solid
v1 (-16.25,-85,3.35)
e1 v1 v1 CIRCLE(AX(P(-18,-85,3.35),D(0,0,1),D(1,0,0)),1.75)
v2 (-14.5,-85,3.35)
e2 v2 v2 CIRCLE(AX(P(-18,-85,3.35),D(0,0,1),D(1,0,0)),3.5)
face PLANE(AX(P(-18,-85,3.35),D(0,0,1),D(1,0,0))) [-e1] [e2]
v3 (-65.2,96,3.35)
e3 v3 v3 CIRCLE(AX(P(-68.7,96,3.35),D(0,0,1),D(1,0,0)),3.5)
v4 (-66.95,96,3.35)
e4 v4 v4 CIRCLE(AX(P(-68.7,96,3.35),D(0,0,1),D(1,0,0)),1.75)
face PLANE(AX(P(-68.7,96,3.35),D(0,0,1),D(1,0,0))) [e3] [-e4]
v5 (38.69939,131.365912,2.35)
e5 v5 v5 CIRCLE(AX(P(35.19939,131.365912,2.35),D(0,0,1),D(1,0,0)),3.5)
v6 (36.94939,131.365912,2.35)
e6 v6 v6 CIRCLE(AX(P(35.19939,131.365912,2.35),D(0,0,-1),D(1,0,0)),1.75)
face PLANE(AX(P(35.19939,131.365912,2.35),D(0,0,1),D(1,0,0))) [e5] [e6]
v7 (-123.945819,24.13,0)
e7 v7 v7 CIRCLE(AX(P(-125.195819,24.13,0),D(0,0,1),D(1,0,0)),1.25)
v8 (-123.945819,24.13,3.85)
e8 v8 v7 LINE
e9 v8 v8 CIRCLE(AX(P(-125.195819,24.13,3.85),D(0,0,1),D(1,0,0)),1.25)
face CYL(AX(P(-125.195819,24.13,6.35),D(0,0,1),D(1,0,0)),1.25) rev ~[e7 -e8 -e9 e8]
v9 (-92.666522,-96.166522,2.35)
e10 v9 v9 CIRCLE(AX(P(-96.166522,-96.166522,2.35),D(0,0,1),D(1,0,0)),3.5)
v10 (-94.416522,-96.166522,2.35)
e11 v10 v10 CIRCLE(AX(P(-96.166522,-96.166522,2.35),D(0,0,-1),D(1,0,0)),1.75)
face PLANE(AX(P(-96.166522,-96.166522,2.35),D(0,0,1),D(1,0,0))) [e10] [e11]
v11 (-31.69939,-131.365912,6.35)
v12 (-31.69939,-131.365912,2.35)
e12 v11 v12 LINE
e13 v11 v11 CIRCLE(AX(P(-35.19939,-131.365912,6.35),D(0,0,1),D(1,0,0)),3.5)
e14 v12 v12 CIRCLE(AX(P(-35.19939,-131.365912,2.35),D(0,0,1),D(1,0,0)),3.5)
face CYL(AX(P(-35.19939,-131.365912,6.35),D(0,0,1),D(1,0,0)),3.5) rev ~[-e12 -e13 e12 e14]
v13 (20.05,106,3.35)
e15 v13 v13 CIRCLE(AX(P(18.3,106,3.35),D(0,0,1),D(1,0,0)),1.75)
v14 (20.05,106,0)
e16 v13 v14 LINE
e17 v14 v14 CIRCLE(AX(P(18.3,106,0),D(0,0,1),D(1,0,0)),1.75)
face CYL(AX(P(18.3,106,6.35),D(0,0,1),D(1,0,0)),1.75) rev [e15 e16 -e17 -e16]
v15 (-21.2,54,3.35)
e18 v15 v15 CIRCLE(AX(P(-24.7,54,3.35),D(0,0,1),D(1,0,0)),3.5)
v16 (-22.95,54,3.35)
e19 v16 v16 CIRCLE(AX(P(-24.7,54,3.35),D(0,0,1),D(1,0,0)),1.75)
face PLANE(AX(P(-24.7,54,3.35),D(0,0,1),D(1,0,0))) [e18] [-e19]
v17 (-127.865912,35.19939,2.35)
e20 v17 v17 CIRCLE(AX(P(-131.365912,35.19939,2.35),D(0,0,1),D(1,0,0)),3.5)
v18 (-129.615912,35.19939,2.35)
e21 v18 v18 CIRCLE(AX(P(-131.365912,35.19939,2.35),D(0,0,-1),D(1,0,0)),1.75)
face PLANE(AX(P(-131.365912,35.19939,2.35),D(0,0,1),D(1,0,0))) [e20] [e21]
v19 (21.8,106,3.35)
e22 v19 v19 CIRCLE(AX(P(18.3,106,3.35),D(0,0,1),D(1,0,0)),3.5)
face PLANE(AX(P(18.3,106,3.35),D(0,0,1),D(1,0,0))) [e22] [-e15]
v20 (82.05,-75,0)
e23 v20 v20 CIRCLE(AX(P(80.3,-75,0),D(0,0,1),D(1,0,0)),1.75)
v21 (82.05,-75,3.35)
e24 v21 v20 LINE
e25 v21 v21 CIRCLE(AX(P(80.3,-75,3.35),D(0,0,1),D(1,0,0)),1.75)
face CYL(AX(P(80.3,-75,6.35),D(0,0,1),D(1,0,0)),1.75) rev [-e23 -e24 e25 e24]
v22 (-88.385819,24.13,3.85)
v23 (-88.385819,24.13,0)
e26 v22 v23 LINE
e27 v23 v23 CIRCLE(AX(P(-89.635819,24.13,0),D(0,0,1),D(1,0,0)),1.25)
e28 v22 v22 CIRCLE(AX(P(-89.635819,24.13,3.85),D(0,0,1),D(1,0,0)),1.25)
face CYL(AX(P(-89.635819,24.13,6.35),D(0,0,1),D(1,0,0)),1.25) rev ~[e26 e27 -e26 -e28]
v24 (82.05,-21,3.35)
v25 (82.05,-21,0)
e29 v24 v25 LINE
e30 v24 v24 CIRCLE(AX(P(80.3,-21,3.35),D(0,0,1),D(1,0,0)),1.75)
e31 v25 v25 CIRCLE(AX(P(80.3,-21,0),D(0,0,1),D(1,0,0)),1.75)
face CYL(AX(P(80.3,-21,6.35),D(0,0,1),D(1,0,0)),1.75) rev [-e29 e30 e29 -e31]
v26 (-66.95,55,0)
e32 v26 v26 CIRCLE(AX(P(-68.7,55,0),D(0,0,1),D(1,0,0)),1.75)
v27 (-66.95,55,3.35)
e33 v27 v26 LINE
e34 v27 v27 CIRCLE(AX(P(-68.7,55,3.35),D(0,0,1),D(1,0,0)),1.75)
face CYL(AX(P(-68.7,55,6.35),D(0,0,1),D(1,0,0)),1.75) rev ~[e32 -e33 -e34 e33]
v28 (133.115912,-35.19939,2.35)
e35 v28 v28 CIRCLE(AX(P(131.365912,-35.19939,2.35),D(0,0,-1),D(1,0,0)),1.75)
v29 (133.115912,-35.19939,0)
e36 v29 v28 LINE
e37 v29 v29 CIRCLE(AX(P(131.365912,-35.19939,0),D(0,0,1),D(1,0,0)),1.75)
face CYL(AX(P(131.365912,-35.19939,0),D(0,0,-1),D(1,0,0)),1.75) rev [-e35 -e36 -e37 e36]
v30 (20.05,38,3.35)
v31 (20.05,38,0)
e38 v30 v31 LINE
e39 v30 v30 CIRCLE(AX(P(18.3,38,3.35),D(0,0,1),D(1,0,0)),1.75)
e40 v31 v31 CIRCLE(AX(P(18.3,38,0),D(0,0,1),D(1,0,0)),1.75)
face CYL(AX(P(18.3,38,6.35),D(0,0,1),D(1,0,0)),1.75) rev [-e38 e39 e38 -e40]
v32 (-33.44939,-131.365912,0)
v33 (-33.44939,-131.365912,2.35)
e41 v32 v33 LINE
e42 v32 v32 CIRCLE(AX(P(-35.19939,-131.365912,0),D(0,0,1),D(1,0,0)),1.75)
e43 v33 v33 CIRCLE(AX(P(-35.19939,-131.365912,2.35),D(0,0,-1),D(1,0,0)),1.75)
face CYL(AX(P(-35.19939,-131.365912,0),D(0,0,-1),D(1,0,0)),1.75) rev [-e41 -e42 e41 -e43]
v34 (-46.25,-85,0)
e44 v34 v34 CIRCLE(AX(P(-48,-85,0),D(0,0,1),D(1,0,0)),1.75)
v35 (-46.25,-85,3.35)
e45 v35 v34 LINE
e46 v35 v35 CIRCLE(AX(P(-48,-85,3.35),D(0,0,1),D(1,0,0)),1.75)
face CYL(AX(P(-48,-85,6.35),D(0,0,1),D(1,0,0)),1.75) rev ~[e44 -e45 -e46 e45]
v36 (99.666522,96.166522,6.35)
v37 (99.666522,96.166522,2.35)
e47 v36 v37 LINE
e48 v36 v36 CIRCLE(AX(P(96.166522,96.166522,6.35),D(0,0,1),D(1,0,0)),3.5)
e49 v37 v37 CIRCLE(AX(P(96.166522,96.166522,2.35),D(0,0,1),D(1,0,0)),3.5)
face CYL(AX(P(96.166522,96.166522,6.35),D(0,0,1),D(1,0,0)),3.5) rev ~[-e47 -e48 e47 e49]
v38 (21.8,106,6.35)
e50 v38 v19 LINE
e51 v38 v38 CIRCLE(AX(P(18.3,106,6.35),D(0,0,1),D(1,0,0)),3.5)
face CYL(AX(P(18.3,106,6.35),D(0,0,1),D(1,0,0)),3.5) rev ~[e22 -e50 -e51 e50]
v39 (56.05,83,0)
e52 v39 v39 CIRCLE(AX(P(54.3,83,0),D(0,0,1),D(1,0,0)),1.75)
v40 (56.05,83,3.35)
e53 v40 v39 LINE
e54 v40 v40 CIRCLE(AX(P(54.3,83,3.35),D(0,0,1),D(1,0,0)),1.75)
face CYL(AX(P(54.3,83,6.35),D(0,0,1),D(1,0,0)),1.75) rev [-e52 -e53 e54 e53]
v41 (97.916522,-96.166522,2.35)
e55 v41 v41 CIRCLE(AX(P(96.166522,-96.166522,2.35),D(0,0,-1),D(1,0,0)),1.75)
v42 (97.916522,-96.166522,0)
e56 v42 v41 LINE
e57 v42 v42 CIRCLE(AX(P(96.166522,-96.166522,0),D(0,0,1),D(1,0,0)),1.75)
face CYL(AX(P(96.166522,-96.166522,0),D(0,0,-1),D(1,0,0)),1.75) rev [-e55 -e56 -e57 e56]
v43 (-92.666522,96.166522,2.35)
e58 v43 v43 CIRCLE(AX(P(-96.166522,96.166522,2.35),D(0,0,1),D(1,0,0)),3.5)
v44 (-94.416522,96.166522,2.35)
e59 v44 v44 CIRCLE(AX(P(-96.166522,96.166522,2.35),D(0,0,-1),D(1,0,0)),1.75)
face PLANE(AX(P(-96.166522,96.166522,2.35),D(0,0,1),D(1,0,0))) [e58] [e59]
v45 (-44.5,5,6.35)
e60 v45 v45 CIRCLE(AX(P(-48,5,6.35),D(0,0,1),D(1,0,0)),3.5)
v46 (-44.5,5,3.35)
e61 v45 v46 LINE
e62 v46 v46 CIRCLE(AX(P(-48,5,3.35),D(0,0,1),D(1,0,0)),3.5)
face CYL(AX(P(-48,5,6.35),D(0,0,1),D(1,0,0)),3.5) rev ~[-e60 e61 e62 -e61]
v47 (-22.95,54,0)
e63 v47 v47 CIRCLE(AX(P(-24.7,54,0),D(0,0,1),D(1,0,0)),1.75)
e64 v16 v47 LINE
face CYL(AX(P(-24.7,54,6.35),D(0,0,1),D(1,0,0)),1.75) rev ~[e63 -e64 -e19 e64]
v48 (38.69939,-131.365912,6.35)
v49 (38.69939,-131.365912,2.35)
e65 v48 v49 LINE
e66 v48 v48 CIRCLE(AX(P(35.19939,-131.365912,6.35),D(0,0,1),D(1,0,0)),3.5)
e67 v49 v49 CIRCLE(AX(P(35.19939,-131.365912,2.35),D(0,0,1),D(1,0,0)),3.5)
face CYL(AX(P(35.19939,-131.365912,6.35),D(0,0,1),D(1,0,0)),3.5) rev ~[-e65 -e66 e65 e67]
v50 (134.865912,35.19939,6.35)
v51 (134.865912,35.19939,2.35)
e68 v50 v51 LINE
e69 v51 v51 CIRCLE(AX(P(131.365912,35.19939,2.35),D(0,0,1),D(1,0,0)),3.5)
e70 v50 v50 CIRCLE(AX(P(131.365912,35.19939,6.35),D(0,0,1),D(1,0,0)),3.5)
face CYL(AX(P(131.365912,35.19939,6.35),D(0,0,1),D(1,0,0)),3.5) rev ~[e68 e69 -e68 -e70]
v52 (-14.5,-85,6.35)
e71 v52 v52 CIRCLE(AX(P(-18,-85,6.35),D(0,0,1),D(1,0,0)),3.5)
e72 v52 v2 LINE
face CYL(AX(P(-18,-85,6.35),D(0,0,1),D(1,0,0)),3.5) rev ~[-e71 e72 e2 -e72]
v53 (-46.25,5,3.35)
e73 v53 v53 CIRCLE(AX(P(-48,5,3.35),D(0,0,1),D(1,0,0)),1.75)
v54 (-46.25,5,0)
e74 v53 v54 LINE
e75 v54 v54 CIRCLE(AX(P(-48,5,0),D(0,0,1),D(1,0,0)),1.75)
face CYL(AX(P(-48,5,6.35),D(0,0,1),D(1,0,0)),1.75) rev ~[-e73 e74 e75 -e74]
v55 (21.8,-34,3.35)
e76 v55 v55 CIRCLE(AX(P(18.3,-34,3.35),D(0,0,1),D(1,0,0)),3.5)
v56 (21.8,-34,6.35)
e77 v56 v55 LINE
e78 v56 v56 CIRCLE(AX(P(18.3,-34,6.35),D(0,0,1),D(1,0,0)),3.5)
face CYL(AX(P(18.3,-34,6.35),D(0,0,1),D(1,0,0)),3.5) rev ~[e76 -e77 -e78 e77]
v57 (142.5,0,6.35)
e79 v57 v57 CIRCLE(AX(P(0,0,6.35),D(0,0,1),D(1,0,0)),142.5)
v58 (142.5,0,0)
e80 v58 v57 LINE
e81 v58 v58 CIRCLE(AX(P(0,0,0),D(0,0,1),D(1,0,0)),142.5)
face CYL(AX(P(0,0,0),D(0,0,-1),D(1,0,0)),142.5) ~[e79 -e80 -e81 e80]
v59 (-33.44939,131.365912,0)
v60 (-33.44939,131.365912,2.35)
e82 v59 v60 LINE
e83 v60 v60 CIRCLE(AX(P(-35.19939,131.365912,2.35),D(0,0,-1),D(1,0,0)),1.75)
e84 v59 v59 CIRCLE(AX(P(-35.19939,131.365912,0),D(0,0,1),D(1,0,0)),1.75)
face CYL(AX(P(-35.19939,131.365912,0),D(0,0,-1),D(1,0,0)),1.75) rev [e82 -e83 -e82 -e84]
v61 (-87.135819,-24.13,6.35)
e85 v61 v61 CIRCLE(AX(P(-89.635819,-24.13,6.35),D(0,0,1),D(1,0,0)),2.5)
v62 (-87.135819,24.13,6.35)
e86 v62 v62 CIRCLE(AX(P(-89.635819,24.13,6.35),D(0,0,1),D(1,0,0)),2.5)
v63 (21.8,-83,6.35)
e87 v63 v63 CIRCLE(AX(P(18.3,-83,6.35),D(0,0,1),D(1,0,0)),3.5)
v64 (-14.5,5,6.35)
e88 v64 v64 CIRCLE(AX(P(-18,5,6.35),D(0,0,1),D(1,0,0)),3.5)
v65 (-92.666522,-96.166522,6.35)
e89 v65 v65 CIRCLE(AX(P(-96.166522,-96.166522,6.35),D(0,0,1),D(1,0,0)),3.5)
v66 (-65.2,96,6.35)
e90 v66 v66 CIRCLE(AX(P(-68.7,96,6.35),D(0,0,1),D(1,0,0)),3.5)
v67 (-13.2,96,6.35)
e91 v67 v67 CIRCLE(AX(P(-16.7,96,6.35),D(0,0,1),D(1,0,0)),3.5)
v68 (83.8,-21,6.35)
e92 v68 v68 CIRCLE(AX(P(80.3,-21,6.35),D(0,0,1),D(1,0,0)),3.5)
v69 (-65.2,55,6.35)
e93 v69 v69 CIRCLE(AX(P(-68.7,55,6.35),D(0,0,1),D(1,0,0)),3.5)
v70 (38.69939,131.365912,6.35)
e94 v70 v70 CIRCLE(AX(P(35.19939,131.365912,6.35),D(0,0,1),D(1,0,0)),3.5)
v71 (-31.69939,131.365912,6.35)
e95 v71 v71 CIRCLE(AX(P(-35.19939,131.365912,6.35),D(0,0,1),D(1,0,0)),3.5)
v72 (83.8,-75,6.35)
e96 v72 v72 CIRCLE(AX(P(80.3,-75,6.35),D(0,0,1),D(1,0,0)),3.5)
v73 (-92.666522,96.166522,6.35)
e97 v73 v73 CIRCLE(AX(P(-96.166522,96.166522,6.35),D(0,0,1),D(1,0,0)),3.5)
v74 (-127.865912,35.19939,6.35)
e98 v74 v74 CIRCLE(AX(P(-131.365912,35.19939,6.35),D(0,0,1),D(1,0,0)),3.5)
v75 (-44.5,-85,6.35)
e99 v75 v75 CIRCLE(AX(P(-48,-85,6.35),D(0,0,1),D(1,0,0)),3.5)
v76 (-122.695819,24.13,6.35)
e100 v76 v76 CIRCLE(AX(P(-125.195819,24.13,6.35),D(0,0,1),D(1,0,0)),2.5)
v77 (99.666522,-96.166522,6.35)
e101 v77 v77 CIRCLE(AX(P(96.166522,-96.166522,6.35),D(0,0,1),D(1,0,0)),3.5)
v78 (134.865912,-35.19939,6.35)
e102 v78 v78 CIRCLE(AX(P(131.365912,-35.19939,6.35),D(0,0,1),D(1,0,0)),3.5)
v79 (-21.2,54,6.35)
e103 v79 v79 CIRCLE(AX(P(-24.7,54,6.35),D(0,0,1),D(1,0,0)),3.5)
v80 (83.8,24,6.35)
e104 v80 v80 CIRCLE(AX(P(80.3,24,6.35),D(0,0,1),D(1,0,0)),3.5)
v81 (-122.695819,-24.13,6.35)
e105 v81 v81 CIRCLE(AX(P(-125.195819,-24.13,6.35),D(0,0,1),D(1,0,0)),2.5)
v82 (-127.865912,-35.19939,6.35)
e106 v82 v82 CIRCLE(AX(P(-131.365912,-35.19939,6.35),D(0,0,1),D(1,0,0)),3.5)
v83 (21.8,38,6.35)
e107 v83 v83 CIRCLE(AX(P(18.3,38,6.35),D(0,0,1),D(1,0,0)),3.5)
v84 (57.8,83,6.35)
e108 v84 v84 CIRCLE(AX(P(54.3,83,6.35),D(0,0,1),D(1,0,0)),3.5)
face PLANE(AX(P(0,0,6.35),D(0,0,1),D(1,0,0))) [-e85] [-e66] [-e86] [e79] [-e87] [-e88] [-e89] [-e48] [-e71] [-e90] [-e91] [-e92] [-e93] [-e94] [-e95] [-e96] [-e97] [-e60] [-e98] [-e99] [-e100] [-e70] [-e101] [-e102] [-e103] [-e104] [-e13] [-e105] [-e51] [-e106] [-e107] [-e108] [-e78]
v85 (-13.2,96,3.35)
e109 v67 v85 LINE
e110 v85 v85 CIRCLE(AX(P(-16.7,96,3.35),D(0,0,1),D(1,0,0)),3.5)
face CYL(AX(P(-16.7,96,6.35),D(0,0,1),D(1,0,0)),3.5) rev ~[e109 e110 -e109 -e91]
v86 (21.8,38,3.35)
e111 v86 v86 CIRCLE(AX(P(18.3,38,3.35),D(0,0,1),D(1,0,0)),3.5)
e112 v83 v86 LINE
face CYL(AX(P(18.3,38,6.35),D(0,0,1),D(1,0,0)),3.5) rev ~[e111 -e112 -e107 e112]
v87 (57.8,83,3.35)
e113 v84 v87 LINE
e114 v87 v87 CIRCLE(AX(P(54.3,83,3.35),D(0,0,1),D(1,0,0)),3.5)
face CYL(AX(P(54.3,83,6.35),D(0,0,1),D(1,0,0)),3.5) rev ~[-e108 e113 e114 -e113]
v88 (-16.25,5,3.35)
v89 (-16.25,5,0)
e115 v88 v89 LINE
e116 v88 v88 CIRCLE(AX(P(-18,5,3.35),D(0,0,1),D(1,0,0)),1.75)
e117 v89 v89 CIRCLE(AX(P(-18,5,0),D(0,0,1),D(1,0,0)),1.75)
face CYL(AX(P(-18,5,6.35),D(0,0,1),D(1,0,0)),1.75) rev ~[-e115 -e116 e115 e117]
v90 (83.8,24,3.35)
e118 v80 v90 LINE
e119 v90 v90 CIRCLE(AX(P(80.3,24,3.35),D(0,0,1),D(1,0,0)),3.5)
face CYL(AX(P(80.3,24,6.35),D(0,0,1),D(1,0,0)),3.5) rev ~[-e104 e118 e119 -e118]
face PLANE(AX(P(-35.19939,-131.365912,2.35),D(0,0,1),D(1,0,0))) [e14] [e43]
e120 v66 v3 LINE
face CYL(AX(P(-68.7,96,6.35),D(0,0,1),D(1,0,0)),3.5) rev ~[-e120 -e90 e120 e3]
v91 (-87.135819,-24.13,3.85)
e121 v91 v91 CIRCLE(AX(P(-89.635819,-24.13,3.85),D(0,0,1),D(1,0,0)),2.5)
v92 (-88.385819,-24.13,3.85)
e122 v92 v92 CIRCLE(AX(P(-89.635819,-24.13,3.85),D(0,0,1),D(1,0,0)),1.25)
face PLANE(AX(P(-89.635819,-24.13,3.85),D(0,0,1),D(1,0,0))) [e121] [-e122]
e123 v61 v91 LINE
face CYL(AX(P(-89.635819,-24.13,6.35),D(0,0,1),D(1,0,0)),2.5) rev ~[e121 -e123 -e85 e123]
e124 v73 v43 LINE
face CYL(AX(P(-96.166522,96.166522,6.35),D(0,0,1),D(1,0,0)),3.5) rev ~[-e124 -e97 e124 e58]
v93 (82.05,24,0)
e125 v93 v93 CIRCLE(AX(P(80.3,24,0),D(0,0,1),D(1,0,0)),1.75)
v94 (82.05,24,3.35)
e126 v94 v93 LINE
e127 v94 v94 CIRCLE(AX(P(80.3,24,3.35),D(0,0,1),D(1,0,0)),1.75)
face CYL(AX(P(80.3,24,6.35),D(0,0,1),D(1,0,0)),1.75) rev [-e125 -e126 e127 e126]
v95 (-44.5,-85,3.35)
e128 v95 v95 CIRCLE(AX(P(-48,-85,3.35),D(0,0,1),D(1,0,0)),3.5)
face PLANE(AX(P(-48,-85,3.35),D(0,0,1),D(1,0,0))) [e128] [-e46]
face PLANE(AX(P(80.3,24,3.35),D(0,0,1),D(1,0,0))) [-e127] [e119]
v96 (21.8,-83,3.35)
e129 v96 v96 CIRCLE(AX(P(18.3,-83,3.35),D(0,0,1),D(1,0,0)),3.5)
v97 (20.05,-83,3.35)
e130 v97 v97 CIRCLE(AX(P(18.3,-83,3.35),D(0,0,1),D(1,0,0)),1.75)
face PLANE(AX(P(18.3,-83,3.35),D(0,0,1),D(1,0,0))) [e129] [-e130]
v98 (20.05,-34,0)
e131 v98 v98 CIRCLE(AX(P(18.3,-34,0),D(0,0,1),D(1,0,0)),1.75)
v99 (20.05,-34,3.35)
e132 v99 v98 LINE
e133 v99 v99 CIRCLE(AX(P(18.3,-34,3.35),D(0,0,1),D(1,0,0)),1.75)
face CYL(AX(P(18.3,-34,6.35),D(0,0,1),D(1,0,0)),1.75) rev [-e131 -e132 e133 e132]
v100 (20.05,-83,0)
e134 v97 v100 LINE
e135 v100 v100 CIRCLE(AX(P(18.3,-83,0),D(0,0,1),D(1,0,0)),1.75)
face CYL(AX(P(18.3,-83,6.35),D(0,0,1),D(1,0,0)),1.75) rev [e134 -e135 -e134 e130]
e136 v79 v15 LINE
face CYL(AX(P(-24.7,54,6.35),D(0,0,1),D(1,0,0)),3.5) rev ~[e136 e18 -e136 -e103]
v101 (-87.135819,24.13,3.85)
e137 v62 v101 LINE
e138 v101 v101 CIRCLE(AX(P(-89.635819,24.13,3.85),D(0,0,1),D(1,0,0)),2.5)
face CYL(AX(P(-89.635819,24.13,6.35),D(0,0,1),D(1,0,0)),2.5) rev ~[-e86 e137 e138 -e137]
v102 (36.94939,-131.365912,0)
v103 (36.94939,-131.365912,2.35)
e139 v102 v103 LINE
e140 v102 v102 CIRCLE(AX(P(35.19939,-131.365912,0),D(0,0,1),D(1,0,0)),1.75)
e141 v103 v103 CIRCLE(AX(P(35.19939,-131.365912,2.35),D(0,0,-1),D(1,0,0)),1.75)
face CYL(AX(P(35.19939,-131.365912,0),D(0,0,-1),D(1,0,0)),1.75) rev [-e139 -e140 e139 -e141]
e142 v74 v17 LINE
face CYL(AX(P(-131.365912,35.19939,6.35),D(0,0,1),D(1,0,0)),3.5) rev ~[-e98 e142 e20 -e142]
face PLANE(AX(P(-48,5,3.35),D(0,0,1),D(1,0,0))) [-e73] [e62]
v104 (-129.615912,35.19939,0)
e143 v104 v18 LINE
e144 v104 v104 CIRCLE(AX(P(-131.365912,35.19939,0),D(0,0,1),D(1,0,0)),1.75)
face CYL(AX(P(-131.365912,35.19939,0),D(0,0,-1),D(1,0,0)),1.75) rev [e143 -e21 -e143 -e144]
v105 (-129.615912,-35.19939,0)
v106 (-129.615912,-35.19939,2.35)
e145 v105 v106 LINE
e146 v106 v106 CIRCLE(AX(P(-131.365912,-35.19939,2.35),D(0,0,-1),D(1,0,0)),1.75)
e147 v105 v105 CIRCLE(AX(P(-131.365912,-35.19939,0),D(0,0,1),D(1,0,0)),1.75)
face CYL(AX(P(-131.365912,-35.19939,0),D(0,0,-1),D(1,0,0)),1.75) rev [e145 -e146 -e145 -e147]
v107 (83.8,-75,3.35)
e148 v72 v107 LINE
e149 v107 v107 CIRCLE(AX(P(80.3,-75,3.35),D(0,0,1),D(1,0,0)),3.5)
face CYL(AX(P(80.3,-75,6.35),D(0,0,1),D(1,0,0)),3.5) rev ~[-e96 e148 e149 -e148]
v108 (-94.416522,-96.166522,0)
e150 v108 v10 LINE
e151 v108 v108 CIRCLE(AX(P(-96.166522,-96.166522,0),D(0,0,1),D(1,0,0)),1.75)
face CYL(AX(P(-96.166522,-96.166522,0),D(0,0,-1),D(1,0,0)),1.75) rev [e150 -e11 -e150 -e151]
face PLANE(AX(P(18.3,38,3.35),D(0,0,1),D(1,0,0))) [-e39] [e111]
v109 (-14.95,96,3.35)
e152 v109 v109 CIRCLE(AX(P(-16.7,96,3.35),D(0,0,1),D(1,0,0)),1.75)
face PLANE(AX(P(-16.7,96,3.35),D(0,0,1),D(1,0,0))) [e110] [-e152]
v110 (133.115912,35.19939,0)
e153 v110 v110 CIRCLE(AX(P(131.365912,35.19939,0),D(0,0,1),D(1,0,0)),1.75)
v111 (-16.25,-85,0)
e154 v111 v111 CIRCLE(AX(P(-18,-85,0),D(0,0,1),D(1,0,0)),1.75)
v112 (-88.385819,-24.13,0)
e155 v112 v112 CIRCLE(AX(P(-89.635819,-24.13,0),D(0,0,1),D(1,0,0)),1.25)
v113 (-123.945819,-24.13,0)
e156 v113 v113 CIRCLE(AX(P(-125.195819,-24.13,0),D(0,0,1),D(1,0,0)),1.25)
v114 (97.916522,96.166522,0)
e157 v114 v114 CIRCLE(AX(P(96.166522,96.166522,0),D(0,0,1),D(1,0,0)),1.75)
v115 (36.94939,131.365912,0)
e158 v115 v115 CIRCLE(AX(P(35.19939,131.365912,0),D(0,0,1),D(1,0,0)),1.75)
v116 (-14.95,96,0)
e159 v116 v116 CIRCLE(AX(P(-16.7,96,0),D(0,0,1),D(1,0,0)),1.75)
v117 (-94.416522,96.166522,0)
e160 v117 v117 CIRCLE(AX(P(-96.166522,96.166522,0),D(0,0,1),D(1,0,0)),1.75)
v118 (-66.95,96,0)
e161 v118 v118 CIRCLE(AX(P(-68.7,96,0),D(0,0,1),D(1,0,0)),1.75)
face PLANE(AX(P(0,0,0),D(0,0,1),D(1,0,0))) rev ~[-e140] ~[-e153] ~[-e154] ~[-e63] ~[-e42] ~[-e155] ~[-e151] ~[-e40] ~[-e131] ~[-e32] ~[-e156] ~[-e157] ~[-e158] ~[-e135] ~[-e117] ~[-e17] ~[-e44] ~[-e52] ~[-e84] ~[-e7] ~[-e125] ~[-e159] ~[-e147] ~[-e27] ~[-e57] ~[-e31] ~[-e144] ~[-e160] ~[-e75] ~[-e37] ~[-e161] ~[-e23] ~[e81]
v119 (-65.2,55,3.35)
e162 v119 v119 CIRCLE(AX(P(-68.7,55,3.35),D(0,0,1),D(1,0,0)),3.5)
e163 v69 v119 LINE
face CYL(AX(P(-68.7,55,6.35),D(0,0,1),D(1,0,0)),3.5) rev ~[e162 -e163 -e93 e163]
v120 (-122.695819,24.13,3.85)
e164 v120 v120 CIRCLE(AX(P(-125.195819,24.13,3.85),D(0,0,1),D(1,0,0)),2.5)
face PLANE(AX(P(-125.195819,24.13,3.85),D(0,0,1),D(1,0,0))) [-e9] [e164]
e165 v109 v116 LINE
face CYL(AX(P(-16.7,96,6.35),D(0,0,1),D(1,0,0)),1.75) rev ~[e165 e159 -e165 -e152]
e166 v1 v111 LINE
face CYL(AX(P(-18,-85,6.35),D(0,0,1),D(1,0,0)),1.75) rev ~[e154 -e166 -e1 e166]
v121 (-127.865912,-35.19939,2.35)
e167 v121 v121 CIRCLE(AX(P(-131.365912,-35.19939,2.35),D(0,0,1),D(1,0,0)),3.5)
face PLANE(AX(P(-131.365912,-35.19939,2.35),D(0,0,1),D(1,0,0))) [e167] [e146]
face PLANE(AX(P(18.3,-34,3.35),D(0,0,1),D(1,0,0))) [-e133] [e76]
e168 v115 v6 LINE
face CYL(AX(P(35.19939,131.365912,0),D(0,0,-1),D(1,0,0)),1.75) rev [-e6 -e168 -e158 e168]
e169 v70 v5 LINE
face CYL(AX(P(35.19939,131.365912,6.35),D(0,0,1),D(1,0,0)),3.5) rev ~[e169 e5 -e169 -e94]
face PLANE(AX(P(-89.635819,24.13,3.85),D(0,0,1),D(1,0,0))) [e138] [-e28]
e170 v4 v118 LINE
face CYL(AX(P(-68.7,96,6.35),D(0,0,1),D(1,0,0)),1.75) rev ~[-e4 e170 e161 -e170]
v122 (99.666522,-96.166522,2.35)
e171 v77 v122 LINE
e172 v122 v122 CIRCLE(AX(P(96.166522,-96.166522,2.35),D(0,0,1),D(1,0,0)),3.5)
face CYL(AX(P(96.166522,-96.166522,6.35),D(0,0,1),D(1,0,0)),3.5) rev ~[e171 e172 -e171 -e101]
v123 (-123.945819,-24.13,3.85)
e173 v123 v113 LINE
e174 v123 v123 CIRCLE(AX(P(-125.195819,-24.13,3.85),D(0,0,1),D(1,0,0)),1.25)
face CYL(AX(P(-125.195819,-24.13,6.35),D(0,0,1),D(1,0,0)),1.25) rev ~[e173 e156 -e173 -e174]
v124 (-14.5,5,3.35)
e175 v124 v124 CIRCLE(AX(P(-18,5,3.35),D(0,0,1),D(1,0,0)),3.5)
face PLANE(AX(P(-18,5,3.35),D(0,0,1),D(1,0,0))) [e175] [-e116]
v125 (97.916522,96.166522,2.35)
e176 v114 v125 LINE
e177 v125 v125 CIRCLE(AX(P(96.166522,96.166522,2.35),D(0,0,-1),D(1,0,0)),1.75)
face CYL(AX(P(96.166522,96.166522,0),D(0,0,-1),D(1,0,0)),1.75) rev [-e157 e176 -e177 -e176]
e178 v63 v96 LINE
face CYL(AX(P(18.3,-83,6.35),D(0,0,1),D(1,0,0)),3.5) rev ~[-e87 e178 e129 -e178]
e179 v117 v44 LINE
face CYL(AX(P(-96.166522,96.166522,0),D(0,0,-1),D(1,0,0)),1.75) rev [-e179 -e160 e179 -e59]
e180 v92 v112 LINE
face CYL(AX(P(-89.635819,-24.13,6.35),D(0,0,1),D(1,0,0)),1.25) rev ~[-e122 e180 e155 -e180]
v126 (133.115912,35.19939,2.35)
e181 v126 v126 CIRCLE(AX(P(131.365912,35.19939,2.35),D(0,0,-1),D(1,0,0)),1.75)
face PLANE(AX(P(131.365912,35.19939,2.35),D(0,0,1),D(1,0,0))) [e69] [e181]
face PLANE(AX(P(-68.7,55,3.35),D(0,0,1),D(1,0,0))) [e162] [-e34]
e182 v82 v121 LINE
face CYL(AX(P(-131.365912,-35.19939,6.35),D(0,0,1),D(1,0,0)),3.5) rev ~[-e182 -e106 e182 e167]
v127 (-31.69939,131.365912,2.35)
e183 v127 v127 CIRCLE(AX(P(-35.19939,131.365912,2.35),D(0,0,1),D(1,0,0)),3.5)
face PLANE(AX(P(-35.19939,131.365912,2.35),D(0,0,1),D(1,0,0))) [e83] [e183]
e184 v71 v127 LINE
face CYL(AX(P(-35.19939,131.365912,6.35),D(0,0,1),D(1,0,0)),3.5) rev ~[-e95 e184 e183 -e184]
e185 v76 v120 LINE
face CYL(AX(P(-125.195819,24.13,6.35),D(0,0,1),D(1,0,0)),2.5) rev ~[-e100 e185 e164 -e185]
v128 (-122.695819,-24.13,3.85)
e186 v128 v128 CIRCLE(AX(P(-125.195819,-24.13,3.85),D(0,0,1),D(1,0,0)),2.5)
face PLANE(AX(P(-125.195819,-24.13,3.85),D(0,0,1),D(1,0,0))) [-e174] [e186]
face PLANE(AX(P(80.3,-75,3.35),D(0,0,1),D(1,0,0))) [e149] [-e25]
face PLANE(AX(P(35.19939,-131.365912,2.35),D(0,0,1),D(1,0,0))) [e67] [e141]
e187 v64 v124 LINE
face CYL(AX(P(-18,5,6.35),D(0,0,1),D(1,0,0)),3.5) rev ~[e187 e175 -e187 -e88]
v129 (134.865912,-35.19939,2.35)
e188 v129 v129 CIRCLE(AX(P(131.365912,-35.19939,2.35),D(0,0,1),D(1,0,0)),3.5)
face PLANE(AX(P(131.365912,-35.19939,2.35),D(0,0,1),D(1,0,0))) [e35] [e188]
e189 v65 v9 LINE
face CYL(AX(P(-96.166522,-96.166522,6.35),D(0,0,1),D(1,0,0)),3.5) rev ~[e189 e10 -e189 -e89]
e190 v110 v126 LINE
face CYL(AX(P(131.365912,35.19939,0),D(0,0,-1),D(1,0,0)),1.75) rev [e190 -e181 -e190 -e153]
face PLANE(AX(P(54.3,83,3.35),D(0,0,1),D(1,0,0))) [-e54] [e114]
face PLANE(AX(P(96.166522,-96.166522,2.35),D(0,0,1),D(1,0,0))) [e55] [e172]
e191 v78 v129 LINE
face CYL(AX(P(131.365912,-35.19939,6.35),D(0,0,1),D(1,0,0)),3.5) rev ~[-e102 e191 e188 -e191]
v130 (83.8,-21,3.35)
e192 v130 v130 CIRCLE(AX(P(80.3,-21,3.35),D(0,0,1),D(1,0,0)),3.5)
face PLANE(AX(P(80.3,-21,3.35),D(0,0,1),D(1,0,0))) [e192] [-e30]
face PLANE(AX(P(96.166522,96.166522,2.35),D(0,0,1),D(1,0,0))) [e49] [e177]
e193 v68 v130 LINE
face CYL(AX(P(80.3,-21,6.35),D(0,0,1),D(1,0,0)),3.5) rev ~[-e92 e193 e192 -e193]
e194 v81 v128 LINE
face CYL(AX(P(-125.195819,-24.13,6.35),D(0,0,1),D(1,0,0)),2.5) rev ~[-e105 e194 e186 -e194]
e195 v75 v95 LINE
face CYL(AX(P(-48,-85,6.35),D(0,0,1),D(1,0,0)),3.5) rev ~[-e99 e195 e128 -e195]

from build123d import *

# Parameters (mm, degrees)
ESQUISSE1_R              = 142.5
ESQUISSE1_R_2            = 1.75
BOSS_EXTRU_1_DEPTH       = 6.35
ESQUISSE2_R              = 3.5
ENL_V_MAT_EXTRU_1_DEPTH  = 4
ENL_V_MAT_EXTRU_2_REACH  = 203.625
ESQUISSE3_R              = 1.25
ESQUISSE4_R              = 2.5
ENL_V_MAT_EXTRU_3_DEPTH  = 2.5
ENL_V_MAT_EXTRU_4_REACH  = 203.625
ESQUISSE5_R              = 1.75
ESQUISSE6_R              = 3.5
ENL_V_MAT_EXTRU_5_DEPTH  = 3
ENL_V_MAT_EXTRU_6_REACH  = 203.625
ESQUISSE7_R              = 1.75
ESQUISSE8_R              = 3.5
ENL_V_MAT_EXTRU_7_DEPTH  = 3
ENL_V_MAT_EXTRU_8_REACH  = 203.625
ESQUISSE9_R              = 1.75
ESQUISSE10_R             = 3.5
ENL_V_MAT_EXTRU_9_DEPTH  = 3
ENL_V_MAT_EXTRU_10_REACH = 203.625
ESQUISSE11_R             = 1.75
ESQUISSE12_R             = 3.5
ENL_V_MAT_EXTRU_11_DEPTH = 3


with BuildPart() as part:
    # Esquisse1 → Boss.-Extru.1 (new body)
    with BuildSketch(Plane.XY):
        Circle(ESQUISSE1_R)
        with Locations((-35.199390134, 131.365912375)):
            Circle(ESQUISSE1_R_2, mode=Mode.SUBTRACT)
        with Locations((35.199390134, 131.365912375)):
            Circle(ESQUISSE1_R_2, mode=Mode.SUBTRACT)
        with Locations((96.166522241, 96.166522241)):
            Circle(ESQUISSE1_R_2, mode=Mode.SUBTRACT)
        with Locations((131.365912375, 35.199390134)):
            Circle(ESQUISSE1_R_2, mode=Mode.SUBTRACT)
        with Locations((131.365912375, -35.199390134)):
            Circle(ESQUISSE1_R_2, mode=Mode.SUBTRACT)
        with Locations((96.166522241, -96.166522241)):
            Circle(ESQUISSE1_R_2, mode=Mode.SUBTRACT)
        with Locations((35.199390134, -131.365912375)):
            Circle(ESQUISSE1_R_2, mode=Mode.SUBTRACT)
        with Locations((-35.199390134, -131.365912375)):
            Circle(ESQUISSE1_R_2, mode=Mode.SUBTRACT)
        with Locations((-96.166522241, -96.166522241)):
            Circle(ESQUISSE1_R_2, mode=Mode.SUBTRACT)
        with Locations((-131.365912375, -35.199390134)):
            Circle(ESQUISSE1_R_2, mode=Mode.SUBTRACT)
        with Locations((-131.365912375, 35.199390134)):
            Circle(ESQUISSE1_R_2, mode=Mode.SUBTRACT)
        with Locations((-96.166522241, 96.166522241)):
            Circle(ESQUISSE1_R_2, mode=Mode.SUBTRACT)
    extrude(amount=BOSS_EXTRU_1_DEPTH)

    # Esquisse2 → Enlèv. mat.-Extru.1 (cut)
    with BuildSketch(Plane.XY.offset(6.35)):
        with Locations((35.199390134, 131.365912375)):
            Circle(ESQUISSE2_R)
        with Locations((96.166522241, 96.166522241)):
            Circle(ESQUISSE2_R)
        with Locations((131.365912375, 35.199390134)):
            Circle(ESQUISSE2_R)
        with Locations((131.365912375, -35.199390134)):
            Circle(ESQUISSE2_R)
        with Locations((96.166522241, -96.166522241)):
            Circle(ESQUISSE2_R)
        with Locations((35.199390134, -131.365912375)):
            Circle(ESQUISSE2_R)
        with Locations((-35.199390134, -131.365912375)):
            Circle(ESQUISSE2_R)
        with Locations((-96.166522241, -96.166522241)):
            Circle(ESQUISSE2_R)
        with Locations((-131.365912375, -35.199390134)):
            Circle(ESQUISSE2_R)
        with Locations((-131.365912375, 35.199390134)):
            Circle(ESQUISSE2_R)
        with Locations((-96.166522241, 96.166522241)):
            Circle(ESQUISSE2_R)
        with Locations((-35.199390134, 131.365912375)):
            Circle(ESQUISSE2_R)
    extrude(amount=-ENL_V_MAT_EXTRU_1_DEPTH, mode=Mode.SUBTRACT)

    # Esquisse3 → Enlèv. mat.-Extru.2 (cut, up to next)
    with BuildSketch(Plane.XY.offset(6.35), mode=Mode.PRIVATE) as enl_v_mat_extru_2_sk1:
        with Locations((-125.19581902, -24.13)):
            Circle(ESQUISSE3_R)
    enl_v_mat_extru_2_tool1 = extrude(enl_v_mat_extru_2_sk1.sketch, amount=-ENL_V_MAT_EXTRU_2_REACH, mode=Mode.PRIVATE) & part.part
    # Esquisse3 → Enlèv. mat.-Extru.2 (cut, up to next)
    with BuildSketch(Plane.XY.offset(6.35), mode=Mode.PRIVATE) as enl_v_mat_extru_2_sk2:
        with Locations((-125.19581902, 24.13)):
            Circle(ESQUISSE3_R)
    enl_v_mat_extru_2_tool2 = extrude(enl_v_mat_extru_2_sk2.sketch, amount=-ENL_V_MAT_EXTRU_2_REACH, mode=Mode.PRIVATE) & part.part
    # Esquisse3 → Enlèv. mat.-Extru.2 (cut, up to next)
    with BuildSketch(Plane.XY.offset(6.35), mode=Mode.PRIVATE) as enl_v_mat_extru_2_sk3:
        with Locations((-89.63581902, 24.13)):
            Circle(ESQUISSE3_R)
    enl_v_mat_extru_2_tool3 = extrude(enl_v_mat_extru_2_sk3.sketch, amount=-ENL_V_MAT_EXTRU_2_REACH, mode=Mode.PRIVATE) & part.part
    # Esquisse3 → Enlèv. mat.-Extru.2 (cut, up to next)
    with BuildSketch(Plane.XY.offset(6.35), mode=Mode.PRIVATE) as enl_v_mat_extru_2_sk4:
        with Locations((-89.63581902, -24.13)):
            Circle(ESQUISSE3_R)
    enl_v_mat_extru_2_tool4 = extrude(enl_v_mat_extru_2_sk4.sketch, amount=-ENL_V_MAT_EXTRU_2_REACH, mode=Mode.PRIVATE) & part.part
    add(enl_v_mat_extru_2_tool1.solids().sort_by_distance((-125.195819, -24.13, 6.35))[0], mode=Mode.SUBTRACT)
    add(enl_v_mat_extru_2_tool2.solids().sort_by_distance((-125.195819, 24.13, 6.35))[0], mode=Mode.SUBTRACT)
    add(enl_v_mat_extru_2_tool3.solids().sort_by_distance((-89.635819, 24.13, 6.35))[0], mode=Mode.SUBTRACT)
    add(enl_v_mat_extru_2_tool4.solids().sort_by_distance((-89.635819, -24.13, 6.35))[0], mode=Mode.SUBTRACT)

    # Esquisse4 → Enlèv. mat.-Extru.3 (cut)
    with BuildSketch(Plane.XY.offset(6.35)):
        with Locations((-125.19581902, -24.13)):
            Circle(ESQUISSE4_R)
        with Locations((-125.19581902, 24.13)):
            Circle(ESQUISSE4_R)
        with Locations((-89.63581902, 24.13)):
            Circle(ESQUISSE4_R)
        with Locations((-89.63581902, -24.13)):
            Circle(ESQUISSE4_R)
    extrude(amount=-ENL_V_MAT_EXTRU_3_DEPTH, mode=Mode.SUBTRACT)

    # Esquisse5 → Enlèv. mat.-Extru.4 (cut, up to next)
    with BuildSketch(Plane.XY.offset(6.35), mode=Mode.PRIVATE) as enl_v_mat_extru_4_sk1:
        with Locations((-48, -85)):
            Circle(ESQUISSE5_R)
    enl_v_mat_extru_4_tool1 = extrude(enl_v_mat_extru_4_sk1.sketch, amount=-ENL_V_MAT_EXTRU_4_REACH, mode=Mode.PRIVATE) & part.part
    # Esquisse5 → Enlèv. mat.-Extru.4 (cut, up to next)
    with BuildSketch(Plane.XY.offset(6.35), mode=Mode.PRIVATE) as enl_v_mat_extru_4_sk2:
        with Locations((-48, 5)):
            Circle(ESQUISSE5_R)
    enl_v_mat_extru_4_tool2 = extrude(enl_v_mat_extru_4_sk2.sketch, amount=-ENL_V_MAT_EXTRU_4_REACH, mode=Mode.PRIVATE) & part.part
    # Esquisse5 → Enlèv. mat.-Extru.4 (cut, up to next)
    with BuildSketch(Plane.XY.offset(6.35), mode=Mode.PRIVATE) as enl_v_mat_extru_4_sk3:
        with Locations((-18, 5)):
            Circle(ESQUISSE5_R)
    enl_v_mat_extru_4_tool3 = extrude(enl_v_mat_extru_4_sk3.sketch, amount=-ENL_V_MAT_EXTRU_4_REACH, mode=Mode.PRIVATE) & part.part
    # Esquisse5 → Enlèv. mat.-Extru.4 (cut, up to next)
    with BuildSketch(Plane.XY.offset(6.35), mode=Mode.PRIVATE) as enl_v_mat_extru_4_sk4:
        with Locations((-18, -85)):
            Circle(ESQUISSE5_R)
    enl_v_mat_extru_4_tool4 = extrude(enl_v_mat_extru_4_sk4.sketch, amount=-ENL_V_MAT_EXTRU_4_REACH, mode=Mode.PRIVATE) & part.part
    add(enl_v_mat_extru_4_tool1.solids().sort_by_distance((-48, -85, 6.35))[0], mode=Mode.SUBTRACT)
    add(enl_v_mat_extru_4_tool2.solids().sort_by_distance((-48, 5, 6.35))[0], mode=Mode.SUBTRACT)
    add(enl_v_mat_extru_4_tool3.solids().sort_by_distance((-18, 5, 6.35))[0], mode=Mode.SUBTRACT)
    add(enl_v_mat_extru_4_tool4.solids().sort_by_distance((-18, -85, 6.35))[0], mode=Mode.SUBTRACT)

    # Esquisse6 → Enlèv. mat.-Extru.5 (cut)
    with BuildSketch(Plane.XY.offset(6.35)):
        with Locations((-48, -85)):
            Circle(ESQUISSE6_R)
        with Locations((-18, -85)):
            Circle(ESQUISSE6_R)
        with Locations((-48, 5)):
            Circle(ESQUISSE6_R)
        with Locations((-18, 5)):
            Circle(ESQUISSE6_R)
    extrude(amount=-ENL_V_MAT_EXTRU_5_DEPTH, mode=Mode.SUBTRACT)

    # Esquisse7 → Enlèv. mat.-Extru.6 (cut, up to next)
    with BuildSketch(Plane.XY.offset(6.35), mode=Mode.PRIVATE) as enl_v_mat_extru_6_sk1:
        with Locations((-68.7, 55)):
            Circle(ESQUISSE7_R)
    enl_v_mat_extru_6_tool1 = extrude(enl_v_mat_extru_6_sk1.sketch, amount=-ENL_V_MAT_EXTRU_6_REACH, mode=Mode.PRIVATE) & part.part
    # Esquisse7 → Enlèv. mat.-Extru.6 (cut, up to next)
    with BuildSketch(Plane.XY.offset(6.35), mode=Mode.PRIVATE) as enl_v_mat_extru_6_sk2:
        with Locations((-68.7, 96)):
            Circle(ESQUISSE7_R)
    enl_v_mat_extru_6_tool2 = extrude(enl_v_mat_extru_6_sk2.sketch, amount=-ENL_V_MAT_EXTRU_6_REACH, mode=Mode.PRIVATE) & part.part
    # Esquisse7 → Enlèv. mat.-Extru.6 (cut, up to next)
    with BuildSketch(Plane.XY.offset(6.35), mode=Mode.PRIVATE) as enl_v_mat_extru_6_sk3:
        with Locations((-24.7, 54)):
            Circle(ESQUISSE7_R)
    enl_v_mat_extru_6_tool3 = extrude(enl_v_mat_extru_6_sk3.sketch, amount=-ENL_V_MAT_EXTRU_6_REACH, mode=Mode.PRIVATE) & part.part
    # Esquisse7 → Enlèv. mat.-Extru.6 (cut, up to next)
    with BuildSketch(Plane.XY.offset(6.35), mode=Mode.PRIVATE) as enl_v_mat_extru_6_sk4:
        with Locations((-16.7, 96)):
            Circle(ESQUISSE7_R)
    enl_v_mat_extru_6_tool4 = extrude(enl_v_mat_extru_6_sk4.sketch, amount=-ENL_V_MAT_EXTRU_6_REACH, mode=Mode.PRIVATE) & part.part
    add(enl_v_mat_extru_6_tool1.solids().sort_by_distance((-68.7, 55, 6.35))[0], mode=Mode.SUBTRACT)
    add(enl_v_mat_extru_6_tool2.solids().sort_by_distance((-68.7, 96, 6.35))[0], mode=Mode.SUBTRACT)
    add(enl_v_mat_extru_6_tool3.solids().sort_by_distance((-24.7, 54, 6.35))[0], mode=Mode.SUBTRACT)
    add(enl_v_mat_extru_6_tool4.solids().sort_by_distance((-16.7, 96, 6.35))[0], mode=Mode.SUBTRACT)

    # Esquisse8 → Enlèv. mat.-Extru.7 (cut)
    with BuildSketch(Plane.XY.offset(6.35)):
        with Locations((-68.7, 55)):
            Circle(ESQUISSE8_R)
        with Locations((-68.7, 96)):
            Circle(ESQUISSE8_R)
        with Locations((-24.7, 54)):
            Circle(ESQUISSE8_R)
        with Locations((-16.7, 96)):
            Circle(ESQUISSE8_R)
    extrude(amount=-ENL_V_MAT_EXTRU_7_DEPTH, mode=Mode.SUBTRACT)

    # Esquisse9 → Enlèv. mat.-Extru.8 (cut, up to next)
    with BuildSketch(Plane(origin=(0, 0, 6.35), x_dir=(-1, 0, 0), z_dir=(0, 0, -1)), mode=Mode.PRIVATE) as enl_v_mat_extru_8_sk1:
        with Locations(Location((-18.3, 106, 0), (0, 0, 180))):
            Circle(ESQUISSE9_R)
    enl_v_mat_extru_8_tool1 = extrude(enl_v_mat_extru_8_sk1.sketch, amount=ENL_V_MAT_EXTRU_8_REACH, mode=Mode.PRIVATE) & part.part
    # Esquisse9 → Enlèv. mat.-Extru.8 (cut, up to next)
    with BuildSketch(Plane(origin=(0, 0, 6.35), x_dir=(-1, 0, 0), z_dir=(0, 0, -1)), mode=Mode.PRIVATE) as enl_v_mat_extru_8_sk2:
        with Locations(Location((-18.3, 38, 0), (0, 0, 180))):
            Circle(ESQUISSE9_R)
    enl_v_mat_extru_8_tool2 = extrude(enl_v_mat_extru_8_sk2.sketch, amount=ENL_V_MAT_EXTRU_8_REACH, mode=Mode.PRIVATE) & part.part
    # Esquisse9 → Enlèv. mat.-Extru.8 (cut, up to next)
    with BuildSketch(Plane(origin=(0, 0, 6.35), x_dir=(-1, 0, 0), z_dir=(0, 0, -1)), mode=Mode.PRIVATE) as enl_v_mat_extru_8_sk3:
        with Locations(Location((-54.3, 83, 0), (0, 0, 180))):
            Circle(ESQUISSE9_R)
    enl_v_mat_extru_8_tool3 = extrude(enl_v_mat_extru_8_sk3.sketch, amount=ENL_V_MAT_EXTRU_8_REACH, mode=Mode.PRIVATE) & part.part
    # Esquisse9 → Enlèv. mat.-Extru.8 (cut, up to next)
    with BuildSketch(Plane(origin=(0, 0, 6.35), x_dir=(-1, 0, 0), z_dir=(0, 0, -1)), mode=Mode.PRIVATE) as enl_v_mat_extru_8_sk4:
        with Locations(Location((-80.3, 24, 0), (0, 0, 180))):
            Circle(ESQUISSE9_R)
    enl_v_mat_extru_8_tool4 = extrude(enl_v_mat_extru_8_sk4.sketch, amount=ENL_V_MAT_EXTRU_8_REACH, mode=Mode.PRIVATE) & part.part
    add(enl_v_mat_extru_8_tool1.solids().sort_by_distance((18.3, 106, 6.35))[0], mode=Mode.SUBTRACT)
    add(enl_v_mat_extru_8_tool2.solids().sort_by_distance((18.3, 38, 6.35))[0], mode=Mode.SUBTRACT)
    add(enl_v_mat_extru_8_tool3.solids().sort_by_distance((54.3, 83, 6.35))[0], mode=Mode.SUBTRACT)
    add(enl_v_mat_extru_8_tool4.solids().sort_by_distance((80.3, 24, 6.35))[0], mode=Mode.SUBTRACT)

    # Esquisse10 → Enlèv. mat.-Extru.9 (cut)
    with BuildSketch(Plane.XY.offset(6.35)):
        with Locations((18.3, 38)):
            Circle(ESQUISSE10_R)
        with Locations((18.3, 106)):
            Circle(ESQUISSE10_R)
        with Locations((54.3, 83)):
            Circle(ESQUISSE10_R)
        with Locations((80.3, 24)):
            Circle(ESQUISSE10_R)
    extrude(amount=-ENL_V_MAT_EXTRU_9_DEPTH, mode=Mode.SUBTRACT)

    # Esquisse11 → Enlèv. mat.-Extru.10 (cut, up to next)
    with BuildSketch(Plane(origin=(0, 0, 6.35), x_dir=(-1, 0, 0), z_dir=(0, 0, -1)), mode=Mode.PRIVATE) as enl_v_mat_extru_10_sk1:
        with Locations(Location((-18.3, -34, 0), (0, 0, 180))):
            Circle(ESQUISSE11_R)
    enl_v_mat_extru_10_tool1 = extrude(enl_v_mat_extru_10_sk1.sketch, amount=ENL_V_MAT_EXTRU_10_REACH, mode=Mode.PRIVATE) & part.part
    # Esquisse11 → Enlèv. mat.-Extru.10 (cut, up to next)
    with BuildSketch(Plane(origin=(0, 0, 6.35), x_dir=(-1, 0, 0), z_dir=(0, 0, -1)), mode=Mode.PRIVATE) as enl_v_mat_extru_10_sk2:
        with Locations(Location((-18.3, -83, 0), (0, 0, 180))):
            Circle(ESQUISSE11_R)
    enl_v_mat_extru_10_tool2 = extrude(enl_v_mat_extru_10_sk2.sketch, amount=ENL_V_MAT_EXTRU_10_REACH, mode=Mode.PRIVATE) & part.part
    # Esquisse11 → Enlèv. mat.-Extru.10 (cut, up to next)
    with BuildSketch(Plane(origin=(0, 0, 6.35), x_dir=(-1, 0, 0), z_dir=(0, 0, -1)), mode=Mode.PRIVATE) as enl_v_mat_extru_10_sk3:
        with Locations(Location((-80.3, -21, 0), (0, 0, 180))):
            Circle(ESQUISSE11_R)
    enl_v_mat_extru_10_tool3 = extrude(enl_v_mat_extru_10_sk3.sketch, amount=ENL_V_MAT_EXTRU_10_REACH, mode=Mode.PRIVATE) & part.part
    # Esquisse11 → Enlèv. mat.-Extru.10 (cut, up to next)
    with BuildSketch(Plane(origin=(0, 0, 6.35), x_dir=(-1, 0, 0), z_dir=(0, 0, -1)), mode=Mode.PRIVATE) as enl_v_mat_extru_10_sk4:
        with Locations(Location((-80.3, -75, 0), (0, 0, 180))):
            Circle(ESQUISSE11_R)
    enl_v_mat_extru_10_tool4 = extrude(enl_v_mat_extru_10_sk4.sketch, amount=ENL_V_MAT_EXTRU_10_REACH, mode=Mode.PRIVATE) & part.part
    add(enl_v_mat_extru_10_tool1.solids().sort_by_distance((18.3, -34, 6.35))[0], mode=Mode.SUBTRACT)
    add(enl_v_mat_extru_10_tool2.solids().sort_by_distance((18.3, -83, 6.35))[0], mode=Mode.SUBTRACT)
    add(enl_v_mat_extru_10_tool3.solids().sort_by_distance((80.3, -21, 6.35))[0], mode=Mode.SUBTRACT)
    add(enl_v_mat_extru_10_tool4.solids().sort_by_distance((80.3, -75, 6.35))[0], mode=Mode.SUBTRACT)

    # Esquisse12 → Enlèv. mat.-Extru.11 (cut)
    with BuildSketch(Plane.XY.offset(6.35)):
        with Locations((18.3, -83)):
            Circle(ESQUISSE12_R)
        with Locations((18.3, -34)):
            Circle(ESQUISSE12_R)
        with Locations((80.3, -21)):
            Circle(ESQUISSE12_R)
        with Locations((80.3, -75)):
            Circle(ESQUISSE12_R)
    extrude(amount=-ENL_V_MAT_EXTRU_11_DEPTH, mode=Mode.SUBTRACT)


solid = part.part
